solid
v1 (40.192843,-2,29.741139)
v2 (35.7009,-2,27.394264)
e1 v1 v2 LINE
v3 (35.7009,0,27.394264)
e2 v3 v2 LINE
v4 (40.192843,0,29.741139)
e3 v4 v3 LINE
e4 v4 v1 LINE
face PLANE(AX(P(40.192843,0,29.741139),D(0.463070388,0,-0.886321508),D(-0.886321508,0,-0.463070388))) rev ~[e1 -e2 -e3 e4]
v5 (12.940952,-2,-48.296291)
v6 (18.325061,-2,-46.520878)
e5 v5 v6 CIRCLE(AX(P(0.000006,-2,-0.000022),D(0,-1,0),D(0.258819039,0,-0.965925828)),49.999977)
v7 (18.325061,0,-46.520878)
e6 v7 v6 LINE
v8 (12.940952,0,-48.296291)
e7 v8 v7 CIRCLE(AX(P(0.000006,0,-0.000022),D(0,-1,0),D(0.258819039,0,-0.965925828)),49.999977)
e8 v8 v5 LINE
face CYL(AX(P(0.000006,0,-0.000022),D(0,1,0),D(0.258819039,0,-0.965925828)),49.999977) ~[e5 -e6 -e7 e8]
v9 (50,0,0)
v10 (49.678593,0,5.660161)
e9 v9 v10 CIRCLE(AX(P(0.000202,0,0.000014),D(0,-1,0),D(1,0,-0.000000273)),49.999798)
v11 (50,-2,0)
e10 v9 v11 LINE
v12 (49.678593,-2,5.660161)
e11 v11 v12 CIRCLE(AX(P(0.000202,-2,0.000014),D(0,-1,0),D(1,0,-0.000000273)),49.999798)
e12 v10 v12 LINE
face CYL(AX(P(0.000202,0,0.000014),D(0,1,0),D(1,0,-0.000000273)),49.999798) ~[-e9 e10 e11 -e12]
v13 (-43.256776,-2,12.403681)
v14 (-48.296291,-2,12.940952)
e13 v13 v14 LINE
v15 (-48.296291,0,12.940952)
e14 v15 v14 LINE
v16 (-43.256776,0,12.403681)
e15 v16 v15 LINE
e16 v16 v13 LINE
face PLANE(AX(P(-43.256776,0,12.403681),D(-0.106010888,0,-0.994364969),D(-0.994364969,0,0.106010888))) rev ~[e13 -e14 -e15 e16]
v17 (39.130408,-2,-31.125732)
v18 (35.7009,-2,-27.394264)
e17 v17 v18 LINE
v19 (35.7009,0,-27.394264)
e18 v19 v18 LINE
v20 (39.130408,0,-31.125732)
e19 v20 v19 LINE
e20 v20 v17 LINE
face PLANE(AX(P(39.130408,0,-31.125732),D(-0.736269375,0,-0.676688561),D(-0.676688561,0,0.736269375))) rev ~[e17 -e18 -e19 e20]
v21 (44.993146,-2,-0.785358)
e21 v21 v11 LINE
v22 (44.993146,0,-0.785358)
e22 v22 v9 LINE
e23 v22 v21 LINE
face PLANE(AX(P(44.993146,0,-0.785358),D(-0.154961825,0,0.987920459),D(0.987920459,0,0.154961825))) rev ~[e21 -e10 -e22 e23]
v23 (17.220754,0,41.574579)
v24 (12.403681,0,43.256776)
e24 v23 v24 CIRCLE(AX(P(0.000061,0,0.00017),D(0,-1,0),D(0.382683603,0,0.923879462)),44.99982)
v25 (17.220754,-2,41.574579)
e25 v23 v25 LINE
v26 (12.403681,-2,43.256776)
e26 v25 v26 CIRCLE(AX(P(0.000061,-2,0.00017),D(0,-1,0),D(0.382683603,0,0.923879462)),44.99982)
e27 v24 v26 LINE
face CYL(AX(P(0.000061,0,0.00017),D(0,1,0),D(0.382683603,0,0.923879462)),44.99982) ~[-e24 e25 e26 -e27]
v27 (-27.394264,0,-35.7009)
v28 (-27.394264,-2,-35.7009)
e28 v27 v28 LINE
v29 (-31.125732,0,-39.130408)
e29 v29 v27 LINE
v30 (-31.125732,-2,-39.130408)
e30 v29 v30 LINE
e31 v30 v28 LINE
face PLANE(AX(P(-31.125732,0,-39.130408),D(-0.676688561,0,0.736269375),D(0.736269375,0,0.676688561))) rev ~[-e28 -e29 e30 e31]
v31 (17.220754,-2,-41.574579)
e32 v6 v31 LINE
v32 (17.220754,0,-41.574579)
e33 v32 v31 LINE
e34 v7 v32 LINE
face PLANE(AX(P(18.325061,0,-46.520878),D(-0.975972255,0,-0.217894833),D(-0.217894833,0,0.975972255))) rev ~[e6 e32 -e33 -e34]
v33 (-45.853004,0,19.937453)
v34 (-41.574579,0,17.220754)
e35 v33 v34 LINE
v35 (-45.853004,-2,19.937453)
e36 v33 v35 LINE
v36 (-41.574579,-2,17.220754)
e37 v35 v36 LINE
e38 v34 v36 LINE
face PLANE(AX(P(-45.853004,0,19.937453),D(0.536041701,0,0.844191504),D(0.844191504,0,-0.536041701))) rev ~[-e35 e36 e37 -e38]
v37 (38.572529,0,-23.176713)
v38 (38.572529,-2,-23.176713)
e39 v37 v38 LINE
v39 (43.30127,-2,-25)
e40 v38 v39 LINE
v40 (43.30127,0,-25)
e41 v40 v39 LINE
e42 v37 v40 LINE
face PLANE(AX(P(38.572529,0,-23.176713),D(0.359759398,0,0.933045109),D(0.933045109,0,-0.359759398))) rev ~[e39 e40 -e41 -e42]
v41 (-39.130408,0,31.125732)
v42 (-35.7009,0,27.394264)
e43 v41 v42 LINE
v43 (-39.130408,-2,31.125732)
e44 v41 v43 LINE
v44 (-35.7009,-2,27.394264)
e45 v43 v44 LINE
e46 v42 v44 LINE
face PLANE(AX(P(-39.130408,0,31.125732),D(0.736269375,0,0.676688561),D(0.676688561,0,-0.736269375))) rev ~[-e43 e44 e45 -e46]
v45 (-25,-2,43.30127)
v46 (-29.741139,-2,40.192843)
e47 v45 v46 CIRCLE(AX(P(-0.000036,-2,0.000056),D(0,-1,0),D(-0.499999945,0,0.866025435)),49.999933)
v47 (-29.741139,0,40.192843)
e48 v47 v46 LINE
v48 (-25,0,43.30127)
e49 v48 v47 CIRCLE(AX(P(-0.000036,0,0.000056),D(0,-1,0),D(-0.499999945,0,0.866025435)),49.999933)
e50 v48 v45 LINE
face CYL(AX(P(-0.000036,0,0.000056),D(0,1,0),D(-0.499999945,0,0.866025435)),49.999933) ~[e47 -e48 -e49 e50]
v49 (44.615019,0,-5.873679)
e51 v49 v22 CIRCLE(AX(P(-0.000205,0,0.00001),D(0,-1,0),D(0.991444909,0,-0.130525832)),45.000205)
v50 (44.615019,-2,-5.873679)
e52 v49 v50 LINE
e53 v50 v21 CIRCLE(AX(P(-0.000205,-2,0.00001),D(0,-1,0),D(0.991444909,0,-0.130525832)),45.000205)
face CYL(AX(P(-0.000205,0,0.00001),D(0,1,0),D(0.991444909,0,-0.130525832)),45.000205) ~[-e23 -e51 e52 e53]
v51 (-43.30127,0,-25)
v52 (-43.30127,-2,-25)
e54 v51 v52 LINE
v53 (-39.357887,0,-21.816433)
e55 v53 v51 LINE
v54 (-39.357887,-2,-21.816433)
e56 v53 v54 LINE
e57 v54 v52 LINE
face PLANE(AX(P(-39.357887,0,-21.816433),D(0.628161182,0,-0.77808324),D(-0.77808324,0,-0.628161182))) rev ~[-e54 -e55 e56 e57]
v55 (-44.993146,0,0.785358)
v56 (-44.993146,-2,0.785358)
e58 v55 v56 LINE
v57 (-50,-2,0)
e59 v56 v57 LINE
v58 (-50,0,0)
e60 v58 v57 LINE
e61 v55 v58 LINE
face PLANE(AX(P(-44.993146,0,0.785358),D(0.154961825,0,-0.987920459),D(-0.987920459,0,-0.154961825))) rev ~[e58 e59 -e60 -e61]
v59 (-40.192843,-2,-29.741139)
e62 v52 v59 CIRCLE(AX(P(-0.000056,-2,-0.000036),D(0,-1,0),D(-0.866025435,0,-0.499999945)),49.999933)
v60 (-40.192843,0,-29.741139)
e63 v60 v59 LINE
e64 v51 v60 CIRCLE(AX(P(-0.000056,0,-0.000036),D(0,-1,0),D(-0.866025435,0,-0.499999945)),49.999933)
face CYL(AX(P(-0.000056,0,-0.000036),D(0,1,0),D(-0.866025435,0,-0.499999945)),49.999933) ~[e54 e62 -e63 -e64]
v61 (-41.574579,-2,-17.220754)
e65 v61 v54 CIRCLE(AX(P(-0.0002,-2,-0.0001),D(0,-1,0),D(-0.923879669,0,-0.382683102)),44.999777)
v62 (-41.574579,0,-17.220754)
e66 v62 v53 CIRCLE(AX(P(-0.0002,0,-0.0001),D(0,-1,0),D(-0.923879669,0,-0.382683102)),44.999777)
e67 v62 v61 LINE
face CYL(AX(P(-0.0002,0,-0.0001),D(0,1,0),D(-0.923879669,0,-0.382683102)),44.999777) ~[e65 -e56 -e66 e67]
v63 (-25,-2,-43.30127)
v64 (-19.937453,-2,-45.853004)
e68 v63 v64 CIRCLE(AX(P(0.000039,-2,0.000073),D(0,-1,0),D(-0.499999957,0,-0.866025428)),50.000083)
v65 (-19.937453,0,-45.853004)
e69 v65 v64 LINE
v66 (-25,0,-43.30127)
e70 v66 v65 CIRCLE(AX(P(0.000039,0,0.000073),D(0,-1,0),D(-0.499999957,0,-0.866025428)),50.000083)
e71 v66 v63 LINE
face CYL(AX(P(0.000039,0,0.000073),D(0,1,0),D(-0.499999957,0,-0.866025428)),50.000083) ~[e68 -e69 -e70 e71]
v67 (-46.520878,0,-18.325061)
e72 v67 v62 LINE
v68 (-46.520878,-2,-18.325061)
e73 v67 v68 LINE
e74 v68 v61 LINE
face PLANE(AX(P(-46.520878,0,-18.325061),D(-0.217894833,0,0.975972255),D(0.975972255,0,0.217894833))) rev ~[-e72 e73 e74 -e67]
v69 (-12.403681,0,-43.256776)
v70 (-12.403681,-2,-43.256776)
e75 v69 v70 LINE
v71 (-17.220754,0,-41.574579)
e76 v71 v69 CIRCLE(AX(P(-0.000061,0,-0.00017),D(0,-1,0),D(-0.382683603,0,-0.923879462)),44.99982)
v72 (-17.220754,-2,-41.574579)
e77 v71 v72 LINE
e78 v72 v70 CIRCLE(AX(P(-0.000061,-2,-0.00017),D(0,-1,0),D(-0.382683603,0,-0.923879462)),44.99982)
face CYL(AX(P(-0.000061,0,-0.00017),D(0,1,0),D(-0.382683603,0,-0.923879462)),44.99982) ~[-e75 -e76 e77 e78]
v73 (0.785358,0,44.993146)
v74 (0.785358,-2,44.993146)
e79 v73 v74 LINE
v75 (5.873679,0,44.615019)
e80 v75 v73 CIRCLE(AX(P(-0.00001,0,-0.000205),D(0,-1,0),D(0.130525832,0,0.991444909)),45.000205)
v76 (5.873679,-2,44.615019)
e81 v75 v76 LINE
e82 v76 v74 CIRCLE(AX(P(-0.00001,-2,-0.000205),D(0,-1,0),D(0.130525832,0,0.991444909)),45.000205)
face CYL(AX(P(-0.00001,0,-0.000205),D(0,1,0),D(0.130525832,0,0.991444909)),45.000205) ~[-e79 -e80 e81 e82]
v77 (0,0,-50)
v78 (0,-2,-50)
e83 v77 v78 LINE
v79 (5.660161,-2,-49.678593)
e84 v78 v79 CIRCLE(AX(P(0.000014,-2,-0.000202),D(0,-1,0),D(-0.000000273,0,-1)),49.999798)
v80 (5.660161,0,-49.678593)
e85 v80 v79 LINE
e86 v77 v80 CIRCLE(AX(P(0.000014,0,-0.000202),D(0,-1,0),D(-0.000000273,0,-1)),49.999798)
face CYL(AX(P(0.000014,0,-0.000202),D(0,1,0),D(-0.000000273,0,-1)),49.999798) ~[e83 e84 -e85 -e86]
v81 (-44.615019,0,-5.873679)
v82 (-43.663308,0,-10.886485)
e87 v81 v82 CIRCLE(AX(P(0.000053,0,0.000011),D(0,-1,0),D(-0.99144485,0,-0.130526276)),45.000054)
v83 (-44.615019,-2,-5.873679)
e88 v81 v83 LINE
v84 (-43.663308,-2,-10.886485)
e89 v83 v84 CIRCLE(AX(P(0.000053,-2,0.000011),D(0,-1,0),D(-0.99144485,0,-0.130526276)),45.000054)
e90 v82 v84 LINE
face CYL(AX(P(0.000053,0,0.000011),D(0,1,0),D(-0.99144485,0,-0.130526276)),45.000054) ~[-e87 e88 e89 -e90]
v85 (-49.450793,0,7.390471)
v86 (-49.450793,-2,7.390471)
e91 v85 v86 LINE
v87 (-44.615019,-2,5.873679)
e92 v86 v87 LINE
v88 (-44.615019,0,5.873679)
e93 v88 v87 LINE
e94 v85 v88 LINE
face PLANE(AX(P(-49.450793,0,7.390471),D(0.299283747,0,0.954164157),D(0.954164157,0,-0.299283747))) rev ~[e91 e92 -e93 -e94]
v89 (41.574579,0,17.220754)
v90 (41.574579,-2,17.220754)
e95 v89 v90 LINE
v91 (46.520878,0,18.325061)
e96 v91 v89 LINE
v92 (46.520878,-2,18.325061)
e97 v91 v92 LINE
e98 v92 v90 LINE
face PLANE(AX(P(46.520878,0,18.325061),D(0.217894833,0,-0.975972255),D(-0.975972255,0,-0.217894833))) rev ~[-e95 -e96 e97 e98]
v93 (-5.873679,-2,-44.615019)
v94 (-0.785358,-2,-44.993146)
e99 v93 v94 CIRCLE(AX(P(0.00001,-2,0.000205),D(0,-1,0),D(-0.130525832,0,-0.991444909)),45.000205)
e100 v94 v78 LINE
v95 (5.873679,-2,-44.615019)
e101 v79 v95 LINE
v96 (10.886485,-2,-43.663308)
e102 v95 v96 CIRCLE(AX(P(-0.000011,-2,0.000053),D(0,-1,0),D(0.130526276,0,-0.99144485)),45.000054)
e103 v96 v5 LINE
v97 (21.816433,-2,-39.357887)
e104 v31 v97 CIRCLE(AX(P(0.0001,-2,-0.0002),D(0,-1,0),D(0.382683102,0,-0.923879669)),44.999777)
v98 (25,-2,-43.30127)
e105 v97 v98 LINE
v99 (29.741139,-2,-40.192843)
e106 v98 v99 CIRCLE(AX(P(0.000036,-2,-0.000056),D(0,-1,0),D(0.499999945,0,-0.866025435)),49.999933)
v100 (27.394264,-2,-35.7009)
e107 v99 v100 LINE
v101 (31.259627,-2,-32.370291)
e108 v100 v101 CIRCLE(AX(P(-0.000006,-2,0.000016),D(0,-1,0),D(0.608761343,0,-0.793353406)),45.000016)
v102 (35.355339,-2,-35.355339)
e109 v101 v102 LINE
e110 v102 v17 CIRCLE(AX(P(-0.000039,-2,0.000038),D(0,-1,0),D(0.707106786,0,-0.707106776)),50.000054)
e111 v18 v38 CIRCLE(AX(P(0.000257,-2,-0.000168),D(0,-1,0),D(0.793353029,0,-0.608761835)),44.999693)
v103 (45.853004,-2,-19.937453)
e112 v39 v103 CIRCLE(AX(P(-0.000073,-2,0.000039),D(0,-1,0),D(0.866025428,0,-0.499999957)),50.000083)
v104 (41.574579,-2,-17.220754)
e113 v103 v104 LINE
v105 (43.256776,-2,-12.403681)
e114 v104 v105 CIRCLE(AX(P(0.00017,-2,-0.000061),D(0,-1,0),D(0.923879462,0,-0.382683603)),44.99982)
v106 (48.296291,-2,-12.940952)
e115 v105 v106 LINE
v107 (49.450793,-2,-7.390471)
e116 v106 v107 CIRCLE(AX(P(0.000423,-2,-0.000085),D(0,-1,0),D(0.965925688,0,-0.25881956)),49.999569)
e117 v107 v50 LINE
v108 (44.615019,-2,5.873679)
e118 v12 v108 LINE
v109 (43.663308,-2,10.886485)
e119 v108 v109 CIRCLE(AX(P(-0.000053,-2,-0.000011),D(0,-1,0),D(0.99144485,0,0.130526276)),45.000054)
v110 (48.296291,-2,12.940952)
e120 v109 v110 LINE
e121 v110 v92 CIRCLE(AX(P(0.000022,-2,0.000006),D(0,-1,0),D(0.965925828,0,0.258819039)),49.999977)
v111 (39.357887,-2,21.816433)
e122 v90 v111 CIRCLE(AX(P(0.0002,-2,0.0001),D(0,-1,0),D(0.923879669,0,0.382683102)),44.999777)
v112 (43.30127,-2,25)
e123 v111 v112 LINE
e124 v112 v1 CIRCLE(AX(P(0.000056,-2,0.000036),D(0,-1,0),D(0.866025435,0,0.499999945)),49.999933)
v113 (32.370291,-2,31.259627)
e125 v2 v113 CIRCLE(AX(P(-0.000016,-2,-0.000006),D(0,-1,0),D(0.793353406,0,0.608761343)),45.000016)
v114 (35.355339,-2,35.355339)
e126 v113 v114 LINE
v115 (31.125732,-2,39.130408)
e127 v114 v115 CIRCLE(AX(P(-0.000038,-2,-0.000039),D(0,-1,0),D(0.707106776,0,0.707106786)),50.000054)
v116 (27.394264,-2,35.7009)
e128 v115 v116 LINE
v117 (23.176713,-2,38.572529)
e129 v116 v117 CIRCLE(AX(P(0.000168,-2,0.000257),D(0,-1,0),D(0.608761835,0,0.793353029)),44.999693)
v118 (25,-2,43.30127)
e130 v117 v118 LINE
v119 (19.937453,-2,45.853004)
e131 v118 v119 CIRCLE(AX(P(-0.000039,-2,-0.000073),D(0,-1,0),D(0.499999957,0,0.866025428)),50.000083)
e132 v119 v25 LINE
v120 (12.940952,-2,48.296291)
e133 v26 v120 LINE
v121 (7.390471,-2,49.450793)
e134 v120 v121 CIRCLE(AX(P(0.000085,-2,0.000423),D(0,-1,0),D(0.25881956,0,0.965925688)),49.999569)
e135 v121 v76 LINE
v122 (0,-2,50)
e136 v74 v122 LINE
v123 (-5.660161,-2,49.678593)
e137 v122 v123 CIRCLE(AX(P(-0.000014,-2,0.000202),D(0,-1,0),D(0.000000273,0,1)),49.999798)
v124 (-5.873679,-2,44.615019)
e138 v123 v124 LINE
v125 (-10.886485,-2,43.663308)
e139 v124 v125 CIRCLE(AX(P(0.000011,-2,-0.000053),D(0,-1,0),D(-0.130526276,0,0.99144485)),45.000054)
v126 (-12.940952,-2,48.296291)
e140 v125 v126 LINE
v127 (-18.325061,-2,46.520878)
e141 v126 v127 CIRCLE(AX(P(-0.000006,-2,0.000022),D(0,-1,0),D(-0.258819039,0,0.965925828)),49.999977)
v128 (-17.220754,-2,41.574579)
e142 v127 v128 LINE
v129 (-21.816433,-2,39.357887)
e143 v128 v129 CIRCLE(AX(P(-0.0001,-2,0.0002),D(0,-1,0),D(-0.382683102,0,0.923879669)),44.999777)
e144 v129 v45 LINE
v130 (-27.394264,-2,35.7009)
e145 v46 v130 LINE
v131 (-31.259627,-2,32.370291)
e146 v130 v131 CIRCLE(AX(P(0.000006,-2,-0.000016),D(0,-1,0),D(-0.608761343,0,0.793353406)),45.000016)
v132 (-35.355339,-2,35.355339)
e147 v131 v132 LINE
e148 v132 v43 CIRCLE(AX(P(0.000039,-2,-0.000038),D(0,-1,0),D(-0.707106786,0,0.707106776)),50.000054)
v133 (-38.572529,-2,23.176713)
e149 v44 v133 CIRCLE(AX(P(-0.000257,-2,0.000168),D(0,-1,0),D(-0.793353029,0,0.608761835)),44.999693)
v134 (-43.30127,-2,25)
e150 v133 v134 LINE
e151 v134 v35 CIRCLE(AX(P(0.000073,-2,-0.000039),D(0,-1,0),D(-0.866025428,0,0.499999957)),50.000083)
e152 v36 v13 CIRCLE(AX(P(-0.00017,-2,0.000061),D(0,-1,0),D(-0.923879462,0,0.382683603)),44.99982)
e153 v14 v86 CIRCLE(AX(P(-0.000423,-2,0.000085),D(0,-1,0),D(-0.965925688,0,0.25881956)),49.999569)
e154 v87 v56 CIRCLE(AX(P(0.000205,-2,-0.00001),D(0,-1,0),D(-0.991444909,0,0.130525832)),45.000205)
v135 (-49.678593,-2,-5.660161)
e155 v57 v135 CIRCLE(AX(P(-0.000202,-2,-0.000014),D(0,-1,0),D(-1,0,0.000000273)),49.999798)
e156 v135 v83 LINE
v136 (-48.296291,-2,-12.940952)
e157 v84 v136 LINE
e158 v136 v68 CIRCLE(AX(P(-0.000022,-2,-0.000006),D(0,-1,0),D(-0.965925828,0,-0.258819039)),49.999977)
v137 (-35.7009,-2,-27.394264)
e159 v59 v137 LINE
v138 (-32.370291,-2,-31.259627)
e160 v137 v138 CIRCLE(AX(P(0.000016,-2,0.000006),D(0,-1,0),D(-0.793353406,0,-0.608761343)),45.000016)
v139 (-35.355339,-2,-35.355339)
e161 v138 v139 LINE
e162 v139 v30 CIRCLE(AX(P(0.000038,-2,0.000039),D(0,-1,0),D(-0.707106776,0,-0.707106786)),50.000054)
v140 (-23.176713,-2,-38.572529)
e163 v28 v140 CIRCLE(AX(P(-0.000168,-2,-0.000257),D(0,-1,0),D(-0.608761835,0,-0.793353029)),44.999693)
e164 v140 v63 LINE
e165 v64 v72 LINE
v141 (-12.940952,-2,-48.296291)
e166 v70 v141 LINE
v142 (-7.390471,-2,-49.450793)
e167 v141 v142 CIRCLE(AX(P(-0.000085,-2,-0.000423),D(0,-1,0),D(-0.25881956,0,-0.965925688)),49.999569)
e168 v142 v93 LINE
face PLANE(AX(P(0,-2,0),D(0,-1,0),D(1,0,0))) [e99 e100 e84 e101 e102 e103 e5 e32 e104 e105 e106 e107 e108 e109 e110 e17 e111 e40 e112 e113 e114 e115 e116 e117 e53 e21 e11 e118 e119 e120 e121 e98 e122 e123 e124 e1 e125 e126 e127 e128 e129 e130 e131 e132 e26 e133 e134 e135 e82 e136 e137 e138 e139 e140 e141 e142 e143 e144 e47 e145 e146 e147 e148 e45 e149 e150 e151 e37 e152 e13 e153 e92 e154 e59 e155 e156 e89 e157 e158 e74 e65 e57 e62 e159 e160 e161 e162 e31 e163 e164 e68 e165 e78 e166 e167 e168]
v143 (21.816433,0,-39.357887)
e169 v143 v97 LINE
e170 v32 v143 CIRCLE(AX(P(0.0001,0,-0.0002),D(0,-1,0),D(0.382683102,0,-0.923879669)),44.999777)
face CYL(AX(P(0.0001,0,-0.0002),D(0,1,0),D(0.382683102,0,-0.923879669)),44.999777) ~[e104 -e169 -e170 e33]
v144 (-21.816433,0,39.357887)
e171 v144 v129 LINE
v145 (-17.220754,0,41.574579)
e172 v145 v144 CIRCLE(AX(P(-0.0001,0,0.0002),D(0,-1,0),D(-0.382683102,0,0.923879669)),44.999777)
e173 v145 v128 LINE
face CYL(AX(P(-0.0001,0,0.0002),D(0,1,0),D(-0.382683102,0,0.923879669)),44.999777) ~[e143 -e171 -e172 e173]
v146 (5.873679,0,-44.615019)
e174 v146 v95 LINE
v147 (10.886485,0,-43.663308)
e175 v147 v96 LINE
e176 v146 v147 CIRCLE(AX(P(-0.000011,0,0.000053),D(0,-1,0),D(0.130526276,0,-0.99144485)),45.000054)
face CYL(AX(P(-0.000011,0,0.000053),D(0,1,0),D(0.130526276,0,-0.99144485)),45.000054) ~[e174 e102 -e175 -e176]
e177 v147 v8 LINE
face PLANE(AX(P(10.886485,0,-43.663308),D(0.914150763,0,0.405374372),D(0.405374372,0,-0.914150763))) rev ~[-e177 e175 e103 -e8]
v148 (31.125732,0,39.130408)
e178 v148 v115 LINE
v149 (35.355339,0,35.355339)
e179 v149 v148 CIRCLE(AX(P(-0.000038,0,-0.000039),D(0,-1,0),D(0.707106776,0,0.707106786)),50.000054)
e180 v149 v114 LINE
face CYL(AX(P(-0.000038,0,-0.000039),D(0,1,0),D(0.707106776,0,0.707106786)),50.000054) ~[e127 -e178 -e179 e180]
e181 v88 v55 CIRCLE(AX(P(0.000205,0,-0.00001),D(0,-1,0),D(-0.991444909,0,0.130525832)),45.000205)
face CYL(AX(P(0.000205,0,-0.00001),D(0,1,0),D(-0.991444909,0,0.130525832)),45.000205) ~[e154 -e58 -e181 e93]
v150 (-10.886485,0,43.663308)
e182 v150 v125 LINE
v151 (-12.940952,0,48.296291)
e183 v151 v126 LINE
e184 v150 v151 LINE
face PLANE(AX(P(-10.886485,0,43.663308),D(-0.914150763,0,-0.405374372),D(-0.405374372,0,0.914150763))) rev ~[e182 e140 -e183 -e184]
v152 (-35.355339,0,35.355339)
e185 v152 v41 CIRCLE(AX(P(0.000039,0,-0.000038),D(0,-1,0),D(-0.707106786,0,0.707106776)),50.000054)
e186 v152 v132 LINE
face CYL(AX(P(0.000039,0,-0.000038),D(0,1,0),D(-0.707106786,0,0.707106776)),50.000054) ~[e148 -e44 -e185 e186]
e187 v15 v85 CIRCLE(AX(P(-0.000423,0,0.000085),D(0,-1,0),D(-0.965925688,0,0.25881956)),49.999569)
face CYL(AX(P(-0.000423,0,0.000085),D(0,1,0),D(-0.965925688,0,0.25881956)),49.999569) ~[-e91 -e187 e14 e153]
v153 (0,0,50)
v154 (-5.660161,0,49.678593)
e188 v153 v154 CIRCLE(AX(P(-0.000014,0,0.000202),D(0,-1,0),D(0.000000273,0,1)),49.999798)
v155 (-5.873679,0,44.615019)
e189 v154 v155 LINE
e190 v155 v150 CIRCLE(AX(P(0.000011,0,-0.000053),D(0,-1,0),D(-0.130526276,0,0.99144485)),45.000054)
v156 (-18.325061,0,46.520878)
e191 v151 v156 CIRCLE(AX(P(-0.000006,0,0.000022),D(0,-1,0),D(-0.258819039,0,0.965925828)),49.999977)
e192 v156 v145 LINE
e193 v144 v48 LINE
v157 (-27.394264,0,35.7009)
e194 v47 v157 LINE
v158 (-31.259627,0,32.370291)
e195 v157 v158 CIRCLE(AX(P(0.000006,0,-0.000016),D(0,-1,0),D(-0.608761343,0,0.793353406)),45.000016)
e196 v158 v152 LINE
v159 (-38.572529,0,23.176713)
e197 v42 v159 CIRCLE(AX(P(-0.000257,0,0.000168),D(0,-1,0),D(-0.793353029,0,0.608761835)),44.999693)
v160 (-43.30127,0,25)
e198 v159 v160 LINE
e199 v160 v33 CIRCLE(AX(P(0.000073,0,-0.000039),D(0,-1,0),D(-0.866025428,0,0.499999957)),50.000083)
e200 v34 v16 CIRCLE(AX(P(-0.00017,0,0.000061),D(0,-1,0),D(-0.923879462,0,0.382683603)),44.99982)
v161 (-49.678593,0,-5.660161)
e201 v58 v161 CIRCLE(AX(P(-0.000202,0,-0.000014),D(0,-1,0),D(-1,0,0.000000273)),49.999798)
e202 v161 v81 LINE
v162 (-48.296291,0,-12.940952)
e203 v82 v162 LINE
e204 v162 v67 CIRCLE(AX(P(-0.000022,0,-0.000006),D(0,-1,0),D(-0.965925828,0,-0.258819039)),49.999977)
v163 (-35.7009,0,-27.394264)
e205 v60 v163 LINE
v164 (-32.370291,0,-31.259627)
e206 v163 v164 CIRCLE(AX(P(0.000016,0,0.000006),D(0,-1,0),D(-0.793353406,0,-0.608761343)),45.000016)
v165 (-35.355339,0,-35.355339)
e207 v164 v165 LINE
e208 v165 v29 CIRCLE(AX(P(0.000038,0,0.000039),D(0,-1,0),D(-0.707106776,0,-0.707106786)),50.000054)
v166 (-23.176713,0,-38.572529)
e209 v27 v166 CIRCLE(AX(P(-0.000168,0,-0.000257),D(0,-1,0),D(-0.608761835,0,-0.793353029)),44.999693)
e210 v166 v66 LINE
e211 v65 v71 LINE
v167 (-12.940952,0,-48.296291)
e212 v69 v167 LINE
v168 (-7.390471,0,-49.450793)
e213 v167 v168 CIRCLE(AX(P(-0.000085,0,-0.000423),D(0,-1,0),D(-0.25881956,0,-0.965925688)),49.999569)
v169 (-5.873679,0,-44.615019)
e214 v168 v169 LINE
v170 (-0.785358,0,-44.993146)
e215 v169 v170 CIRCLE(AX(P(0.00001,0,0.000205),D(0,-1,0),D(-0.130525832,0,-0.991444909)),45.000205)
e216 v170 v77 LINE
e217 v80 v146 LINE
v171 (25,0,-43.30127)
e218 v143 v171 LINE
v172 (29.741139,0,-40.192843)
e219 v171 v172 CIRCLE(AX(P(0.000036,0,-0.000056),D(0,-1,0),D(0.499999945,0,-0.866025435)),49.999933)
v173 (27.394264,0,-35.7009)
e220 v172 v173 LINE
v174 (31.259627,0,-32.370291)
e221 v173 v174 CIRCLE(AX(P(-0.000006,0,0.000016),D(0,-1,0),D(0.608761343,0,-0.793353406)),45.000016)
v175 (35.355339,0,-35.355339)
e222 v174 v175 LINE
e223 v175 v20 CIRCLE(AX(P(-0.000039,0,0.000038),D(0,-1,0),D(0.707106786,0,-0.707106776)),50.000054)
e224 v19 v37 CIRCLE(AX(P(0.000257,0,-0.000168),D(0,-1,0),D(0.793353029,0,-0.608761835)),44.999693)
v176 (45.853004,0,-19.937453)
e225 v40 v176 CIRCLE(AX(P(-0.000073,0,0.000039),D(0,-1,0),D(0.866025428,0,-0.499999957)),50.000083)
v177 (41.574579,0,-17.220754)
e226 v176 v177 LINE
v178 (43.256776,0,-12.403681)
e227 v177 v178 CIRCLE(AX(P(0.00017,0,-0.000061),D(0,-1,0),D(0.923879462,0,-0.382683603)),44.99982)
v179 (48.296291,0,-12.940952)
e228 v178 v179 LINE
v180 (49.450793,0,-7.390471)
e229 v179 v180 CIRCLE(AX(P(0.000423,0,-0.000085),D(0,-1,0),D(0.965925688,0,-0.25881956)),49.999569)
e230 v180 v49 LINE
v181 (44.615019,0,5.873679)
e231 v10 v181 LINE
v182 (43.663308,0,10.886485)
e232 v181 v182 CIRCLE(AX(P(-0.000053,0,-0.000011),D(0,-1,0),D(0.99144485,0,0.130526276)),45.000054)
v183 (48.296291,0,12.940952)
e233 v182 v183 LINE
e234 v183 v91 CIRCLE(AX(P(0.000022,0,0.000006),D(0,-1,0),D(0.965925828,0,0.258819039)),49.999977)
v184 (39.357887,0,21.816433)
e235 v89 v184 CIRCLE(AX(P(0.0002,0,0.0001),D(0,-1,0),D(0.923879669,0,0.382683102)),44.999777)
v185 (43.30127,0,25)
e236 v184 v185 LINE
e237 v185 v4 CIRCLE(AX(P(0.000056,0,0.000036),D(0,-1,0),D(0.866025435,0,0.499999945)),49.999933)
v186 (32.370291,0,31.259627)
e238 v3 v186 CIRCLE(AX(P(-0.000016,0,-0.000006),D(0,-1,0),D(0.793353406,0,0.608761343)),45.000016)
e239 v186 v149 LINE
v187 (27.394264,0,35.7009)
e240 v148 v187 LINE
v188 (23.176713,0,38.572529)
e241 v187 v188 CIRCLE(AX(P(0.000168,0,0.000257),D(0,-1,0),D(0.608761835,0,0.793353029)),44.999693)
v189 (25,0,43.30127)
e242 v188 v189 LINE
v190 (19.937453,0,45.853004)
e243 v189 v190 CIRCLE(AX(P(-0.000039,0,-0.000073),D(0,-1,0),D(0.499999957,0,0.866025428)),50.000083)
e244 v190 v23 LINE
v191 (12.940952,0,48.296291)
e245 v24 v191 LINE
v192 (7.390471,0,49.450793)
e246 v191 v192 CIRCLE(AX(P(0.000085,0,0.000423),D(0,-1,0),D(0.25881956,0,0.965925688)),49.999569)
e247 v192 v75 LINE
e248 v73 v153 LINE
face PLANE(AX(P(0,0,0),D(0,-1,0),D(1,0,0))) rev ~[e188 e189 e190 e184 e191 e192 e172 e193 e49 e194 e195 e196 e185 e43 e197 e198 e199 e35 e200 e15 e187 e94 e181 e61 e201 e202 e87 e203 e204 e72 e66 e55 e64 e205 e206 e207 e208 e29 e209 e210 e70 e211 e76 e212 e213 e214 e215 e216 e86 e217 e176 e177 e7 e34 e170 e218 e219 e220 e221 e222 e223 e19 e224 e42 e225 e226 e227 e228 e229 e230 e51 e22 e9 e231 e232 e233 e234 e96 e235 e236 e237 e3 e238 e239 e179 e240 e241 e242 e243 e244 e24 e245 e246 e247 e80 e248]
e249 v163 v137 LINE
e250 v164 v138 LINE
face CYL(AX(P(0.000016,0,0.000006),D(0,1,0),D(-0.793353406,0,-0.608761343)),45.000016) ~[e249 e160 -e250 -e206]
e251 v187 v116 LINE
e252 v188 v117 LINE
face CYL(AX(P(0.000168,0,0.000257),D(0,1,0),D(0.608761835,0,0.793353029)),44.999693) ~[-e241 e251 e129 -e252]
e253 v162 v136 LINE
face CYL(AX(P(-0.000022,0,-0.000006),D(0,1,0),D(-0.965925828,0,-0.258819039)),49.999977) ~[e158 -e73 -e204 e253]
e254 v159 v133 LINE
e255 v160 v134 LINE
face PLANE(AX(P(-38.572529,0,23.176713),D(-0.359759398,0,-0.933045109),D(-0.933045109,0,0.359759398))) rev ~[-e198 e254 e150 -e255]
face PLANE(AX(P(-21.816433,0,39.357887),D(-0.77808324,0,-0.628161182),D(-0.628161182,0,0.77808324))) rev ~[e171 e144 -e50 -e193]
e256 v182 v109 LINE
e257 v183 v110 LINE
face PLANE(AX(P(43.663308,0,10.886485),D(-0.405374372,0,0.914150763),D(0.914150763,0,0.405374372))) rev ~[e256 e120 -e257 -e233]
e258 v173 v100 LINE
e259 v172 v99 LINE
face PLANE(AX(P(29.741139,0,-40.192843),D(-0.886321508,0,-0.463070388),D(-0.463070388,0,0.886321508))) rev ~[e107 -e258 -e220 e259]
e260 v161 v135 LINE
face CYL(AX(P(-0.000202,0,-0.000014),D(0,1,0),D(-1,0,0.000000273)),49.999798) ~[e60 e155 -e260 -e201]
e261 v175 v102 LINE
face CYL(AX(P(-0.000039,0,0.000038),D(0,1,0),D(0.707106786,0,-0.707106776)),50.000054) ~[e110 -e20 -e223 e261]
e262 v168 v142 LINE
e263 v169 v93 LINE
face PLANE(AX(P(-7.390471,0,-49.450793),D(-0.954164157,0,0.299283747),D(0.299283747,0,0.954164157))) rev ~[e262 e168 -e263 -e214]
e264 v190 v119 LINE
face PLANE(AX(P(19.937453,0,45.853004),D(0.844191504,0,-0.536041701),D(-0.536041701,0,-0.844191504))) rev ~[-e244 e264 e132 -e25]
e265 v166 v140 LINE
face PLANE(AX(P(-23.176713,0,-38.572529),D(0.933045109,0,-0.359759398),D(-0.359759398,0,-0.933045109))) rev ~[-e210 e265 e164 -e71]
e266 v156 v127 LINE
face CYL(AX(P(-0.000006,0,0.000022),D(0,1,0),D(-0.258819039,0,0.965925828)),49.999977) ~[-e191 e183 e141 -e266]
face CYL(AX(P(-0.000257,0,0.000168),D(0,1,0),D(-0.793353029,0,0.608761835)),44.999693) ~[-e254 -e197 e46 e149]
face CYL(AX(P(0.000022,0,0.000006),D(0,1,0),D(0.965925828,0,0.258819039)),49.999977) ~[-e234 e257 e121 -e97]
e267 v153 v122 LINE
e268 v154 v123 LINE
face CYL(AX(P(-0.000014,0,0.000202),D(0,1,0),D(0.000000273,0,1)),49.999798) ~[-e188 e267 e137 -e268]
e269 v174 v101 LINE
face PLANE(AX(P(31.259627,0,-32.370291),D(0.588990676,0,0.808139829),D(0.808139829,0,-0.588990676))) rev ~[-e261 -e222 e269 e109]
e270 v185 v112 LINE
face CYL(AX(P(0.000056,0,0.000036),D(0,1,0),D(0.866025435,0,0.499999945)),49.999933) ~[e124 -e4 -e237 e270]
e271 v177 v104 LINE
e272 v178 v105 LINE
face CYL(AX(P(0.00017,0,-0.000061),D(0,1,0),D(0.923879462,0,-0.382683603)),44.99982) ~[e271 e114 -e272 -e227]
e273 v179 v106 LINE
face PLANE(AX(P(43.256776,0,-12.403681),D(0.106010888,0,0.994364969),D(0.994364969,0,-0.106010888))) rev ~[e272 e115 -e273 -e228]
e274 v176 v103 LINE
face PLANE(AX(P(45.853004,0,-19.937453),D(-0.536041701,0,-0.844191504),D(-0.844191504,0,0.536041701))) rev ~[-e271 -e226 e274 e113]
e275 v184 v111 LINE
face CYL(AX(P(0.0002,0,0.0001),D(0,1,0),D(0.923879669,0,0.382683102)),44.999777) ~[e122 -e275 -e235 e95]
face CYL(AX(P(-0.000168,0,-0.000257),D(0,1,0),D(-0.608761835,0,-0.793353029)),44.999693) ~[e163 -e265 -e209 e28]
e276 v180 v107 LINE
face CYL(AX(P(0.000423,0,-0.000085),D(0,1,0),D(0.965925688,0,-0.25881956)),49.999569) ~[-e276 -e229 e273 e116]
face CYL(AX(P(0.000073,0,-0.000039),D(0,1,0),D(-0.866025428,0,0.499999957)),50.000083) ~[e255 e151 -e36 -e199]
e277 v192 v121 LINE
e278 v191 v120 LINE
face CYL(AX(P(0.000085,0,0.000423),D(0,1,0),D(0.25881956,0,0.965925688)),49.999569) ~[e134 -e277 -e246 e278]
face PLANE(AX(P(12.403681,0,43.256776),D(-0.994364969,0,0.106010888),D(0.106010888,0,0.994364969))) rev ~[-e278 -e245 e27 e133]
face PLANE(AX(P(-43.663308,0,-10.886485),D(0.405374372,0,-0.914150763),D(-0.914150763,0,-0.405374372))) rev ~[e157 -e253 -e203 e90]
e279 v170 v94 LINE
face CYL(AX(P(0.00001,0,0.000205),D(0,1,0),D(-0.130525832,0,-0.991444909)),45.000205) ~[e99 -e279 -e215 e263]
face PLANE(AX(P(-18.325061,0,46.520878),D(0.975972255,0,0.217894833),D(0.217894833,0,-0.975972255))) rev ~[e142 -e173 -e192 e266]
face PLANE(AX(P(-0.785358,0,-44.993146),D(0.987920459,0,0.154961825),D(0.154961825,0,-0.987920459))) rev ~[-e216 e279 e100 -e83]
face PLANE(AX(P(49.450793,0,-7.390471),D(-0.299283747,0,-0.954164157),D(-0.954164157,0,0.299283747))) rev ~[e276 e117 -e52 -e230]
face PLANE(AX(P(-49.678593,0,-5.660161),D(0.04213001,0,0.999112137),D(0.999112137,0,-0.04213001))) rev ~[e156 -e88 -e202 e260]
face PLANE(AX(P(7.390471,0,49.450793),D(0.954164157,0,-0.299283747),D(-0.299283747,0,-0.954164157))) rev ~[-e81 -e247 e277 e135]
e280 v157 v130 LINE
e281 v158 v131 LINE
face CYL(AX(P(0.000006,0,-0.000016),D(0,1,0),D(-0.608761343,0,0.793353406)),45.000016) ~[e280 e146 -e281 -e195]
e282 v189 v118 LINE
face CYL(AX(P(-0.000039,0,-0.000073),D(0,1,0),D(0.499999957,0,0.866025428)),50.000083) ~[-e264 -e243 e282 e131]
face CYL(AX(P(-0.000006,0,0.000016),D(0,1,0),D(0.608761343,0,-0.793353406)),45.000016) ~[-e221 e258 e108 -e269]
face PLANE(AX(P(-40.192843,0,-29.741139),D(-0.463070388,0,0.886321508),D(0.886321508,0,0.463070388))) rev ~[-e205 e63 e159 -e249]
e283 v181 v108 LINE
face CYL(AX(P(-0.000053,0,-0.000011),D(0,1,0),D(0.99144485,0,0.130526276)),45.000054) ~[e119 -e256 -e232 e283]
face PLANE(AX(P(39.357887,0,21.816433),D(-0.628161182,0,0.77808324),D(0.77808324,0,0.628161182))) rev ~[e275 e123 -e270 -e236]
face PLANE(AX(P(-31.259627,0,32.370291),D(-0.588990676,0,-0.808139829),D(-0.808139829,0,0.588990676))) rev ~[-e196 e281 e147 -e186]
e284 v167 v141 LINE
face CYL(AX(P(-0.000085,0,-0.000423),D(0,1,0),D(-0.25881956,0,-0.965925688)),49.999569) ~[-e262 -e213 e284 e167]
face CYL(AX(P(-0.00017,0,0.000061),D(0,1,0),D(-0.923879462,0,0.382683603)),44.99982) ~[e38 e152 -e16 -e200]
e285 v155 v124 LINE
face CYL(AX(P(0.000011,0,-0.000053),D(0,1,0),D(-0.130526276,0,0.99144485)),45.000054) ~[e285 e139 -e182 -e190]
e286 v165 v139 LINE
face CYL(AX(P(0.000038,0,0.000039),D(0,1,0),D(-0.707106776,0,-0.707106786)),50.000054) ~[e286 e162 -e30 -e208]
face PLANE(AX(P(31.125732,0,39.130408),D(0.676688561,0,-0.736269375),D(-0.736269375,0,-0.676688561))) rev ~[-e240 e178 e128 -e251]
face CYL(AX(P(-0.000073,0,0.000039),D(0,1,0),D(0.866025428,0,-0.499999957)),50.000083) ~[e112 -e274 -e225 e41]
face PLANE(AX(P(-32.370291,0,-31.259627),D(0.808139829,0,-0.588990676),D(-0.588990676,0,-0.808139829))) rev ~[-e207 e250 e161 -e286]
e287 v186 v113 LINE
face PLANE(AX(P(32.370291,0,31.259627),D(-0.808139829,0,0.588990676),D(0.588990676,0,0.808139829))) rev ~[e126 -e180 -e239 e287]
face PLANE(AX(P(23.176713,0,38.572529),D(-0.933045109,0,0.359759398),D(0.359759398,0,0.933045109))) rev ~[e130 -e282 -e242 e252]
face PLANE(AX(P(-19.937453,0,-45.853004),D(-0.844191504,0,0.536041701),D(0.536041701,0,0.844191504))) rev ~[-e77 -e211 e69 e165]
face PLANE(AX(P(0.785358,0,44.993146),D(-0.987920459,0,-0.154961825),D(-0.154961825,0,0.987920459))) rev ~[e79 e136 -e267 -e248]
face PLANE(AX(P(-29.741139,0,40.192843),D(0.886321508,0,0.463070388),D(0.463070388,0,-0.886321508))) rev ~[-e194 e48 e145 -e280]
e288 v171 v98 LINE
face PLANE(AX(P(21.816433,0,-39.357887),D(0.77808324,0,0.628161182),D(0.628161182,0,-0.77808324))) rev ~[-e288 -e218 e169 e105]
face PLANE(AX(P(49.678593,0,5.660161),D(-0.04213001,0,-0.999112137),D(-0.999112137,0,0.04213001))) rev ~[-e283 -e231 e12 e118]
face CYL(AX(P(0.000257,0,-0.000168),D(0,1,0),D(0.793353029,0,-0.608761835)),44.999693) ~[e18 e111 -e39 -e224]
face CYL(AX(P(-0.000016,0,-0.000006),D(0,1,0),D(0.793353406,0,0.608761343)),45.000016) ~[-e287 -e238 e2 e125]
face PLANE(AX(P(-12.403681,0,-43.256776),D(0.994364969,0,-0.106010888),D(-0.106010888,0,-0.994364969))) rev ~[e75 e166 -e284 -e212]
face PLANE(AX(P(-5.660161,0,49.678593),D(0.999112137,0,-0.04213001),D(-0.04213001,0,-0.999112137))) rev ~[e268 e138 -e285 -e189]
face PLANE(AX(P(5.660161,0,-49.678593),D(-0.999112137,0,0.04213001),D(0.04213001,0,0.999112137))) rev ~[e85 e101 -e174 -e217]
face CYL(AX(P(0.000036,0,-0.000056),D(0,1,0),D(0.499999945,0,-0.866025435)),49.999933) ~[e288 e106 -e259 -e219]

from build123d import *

# Parameters (mm, degrees)
F1_DEPTH = 2


with BuildPart() as f1:
    # F0 (on Front) → F1 (new body)
    with BuildSketch(Plane.XZ):
        with BuildLine():
            Line((-5.660161, 49.678593), (-5.873679, 44.615019))
            ThreePointArc((-5.873679, 44.615019), (-8.393582, 44.210268), (-10.886485, 43.663308))
            Line((-10.886485, 43.663308), (-12.940952, 48.296291))
            ThreePointArc((-12.940952, 48.296291), (-15.65819, 47.484956), (-18.325061, 46.520878))
            Line((-18.325061, 46.520878), (-17.220754, 41.574579))
            ThreePointArc((-17.220754, 41.574579), (-19.550037, 40.531421), (-21.816433, 39.357887))
            Line((-21.816433, 39.357887), (-25, 43.30127))
            ThreePointArc((-25, 43.30127), (-27.414661, 41.814308), (-29.741139, 40.192843))
            Line((-29.741139, 40.192843), (-27.394264, 35.7009))
            ThreePointArc((-27.394264, 35.7009), (-29.374189, 34.090424), (-31.259627, 32.370291))
            Line((-31.259627, 32.370291), (-35.355339, 35.355339))
            ThreePointArc((-35.355339, 35.355339), (-37.302869, 33.294083), (-39.130408, 31.125732))
            Line((-39.130408, 31.125732), (-35.7009, 27.394264))
            ThreePointArc((-35.7009, 27.394264), (-37.196539, 25.326222), (-38.572529, 23.176713))
            Line((-38.572529, 23.176713), (-43.30127, 25))
            ThreePointArc((-43.30127, 25), (-44.648947, 22.504922), (-45.853004, 19.937453))
            Line((-45.853004, 19.937453), (-41.574579, 17.220754))
            ThreePointArc((-41.574579, 17.220754), (-42.484006, 14.836079), (-43.256776, 12.403681))
            Line((-43.256776, 12.403681), (-48.296291, 12.940952))
            ThreePointArc((-48.296291, 12.940952), (-48.952274, 10.182088), (-49.450793, 7.390471))
            Line((-49.450793, 7.390471), (-44.615019, 5.873679))
            ThreePointArc((-44.615019, 5.873679), (-44.876258, 3.334882), (-44.993146, 0.785358))
            Line((-44.993146, 0.785358), (-50, 0))
            ThreePointArc((-50, 0), (-49.919584, -2.834639), (-49.678593, -5.660161))
            Line((-49.678593, -5.660161), (-44.615019, -5.873679))
            ThreePointArc((-44.615019, -5.873679), (-44.210268, -8.393582), (-43.663308, -10.886485))
            Line((-43.663308, -10.886485), (-48.296291, -12.940952))
            ThreePointArc((-48.296291, -12.940952), (-47.484956, -15.65819), (-46.520878, -18.325061))
            Line((-46.520878, -18.325061), (-41.574579, -17.220754))
            ThreePointArc((-41.574579, -17.220754), (-40.531421, -19.550037), (-39.357887, -21.816433))
            Line((-39.357887, -21.816433), (-43.30127, -25))
            ThreePointArc((-43.30127, -25), (-41.814308, -27.414661), (-40.192843, -29.741139))
            Line((-40.192843, -29.741139), (-35.7009, -27.394264))
            ThreePointArc((-35.7009, -27.394264), (-34.090424, -29.374189), (-32.370291, -31.259627))
            Line((-32.370291, -31.259627), (-35.355339, -35.355339))
            ThreePointArc((-35.355339, -35.355339), (-33.294083, -37.302869), (-31.125732, -39.130408))
            Line((-31.125732, -39.130408), (-27.394264, -35.7009))
            ThreePointArc((-27.394264, -35.7009), (-25.326222, -37.196539), (-23.176713, -38.572529))
            Line((-23.176713, -38.572529), (-25, -43.30127))
            ThreePointArc((-25, -43.30127), (-22.504922, -44.648947), (-19.937453, -45.853004))
            Line((-19.937453, -45.853004), (-17.220754, -41.574579))
            ThreePointArc((-17.220754, -41.574579), (-14.836079, -42.484006), (-12.403681, -43.256776))
            Line((-12.403681, -43.256776), (-12.940952, -48.296291))
            ThreePointArc((-12.940952, -48.296291), (-10.182088, -48.952274), (-7.390471, -49.450793))
            Line((-7.390471, -49.450793), (-5.873679, -44.615019))
            ThreePointArc((-5.873679, -44.615019), (-3.334882, -44.876258), (-0.785358, -44.993146))
            Line((-0.785358, -44.993146), (0, -50))
            ThreePointArc((0, -50), (2.834639, -49.919584), (5.660161, -49.678593))
            Line((5.660161, -49.678593), (5.873679, -44.615019))
            ThreePointArc((5.873679, -44.615019), (8.393582, -44.210268), (10.886485, -43.663308))
            Line((10.886485, -43.663308), (12.940952, -48.296291))
            ThreePointArc((12.940952, -48.296291), (15.65819, -47.484956), (18.325061, -46.520878))
            Line((18.325061, -46.520878), (17.220754, -41.574579))
            ThreePointArc((17.220754, -41.574579), (19.550037, -40.531421), (21.816433, -39.357887))
            Line((21.816433, -39.357887), (25, -43.30127))
            ThreePointArc((25, -43.30127), (27.414661, -41.814308), (29.741139, -40.192843))
            Line((29.741139, -40.192843), (27.394264, -35.7009))
            ThreePointArc((27.394264, -35.7009), (29.374189, -34.090424), (31.259627, -32.370291))
            Line((31.259627, -32.370291), (35.355339, -35.355339))
            ThreePointArc((35.355339, -35.355339), (37.302869, -33.294083), (39.130408, -31.125732))
            Line((39.130408, -31.125732), (35.7009, -27.394264))
            ThreePointArc((35.7009, -27.394264), (37.196539, -25.326222), (38.572529, -23.176713))
            Line((38.572529, -23.176713), (43.30127, -25))
            ThreePointArc((43.30127, -25), (44.648947, -22.504922), (45.853004, -19.937453))
            Line((45.853004, -19.937453), (41.574579, -17.220754))
            ThreePointArc((41.574579, -17.220754), (42.484006, -14.836079), (43.256776, -12.403681))
            Line((43.256776, -12.403681), (48.296291, -12.940952))
            ThreePointArc((48.296291, -12.940952), (48.952274, -10.182088), (49.450793, -7.390471))
            Line((49.450793, -7.390471), (44.615019, -5.873679))
            ThreePointArc((44.615019, -5.873679), (44.876258, -3.334882), (44.993146, -0.785358))
            Line((44.993146, -0.785358), (50, 0))
            ThreePointArc((50, 0), (49.919584, 2.834639), (49.678593, 5.660161))
            Line((49.678593, 5.660161), (44.615019, 5.873679))
            ThreePointArc((44.615019, 5.873679), (44.210268, 8.393582), (43.663308, 10.886485))
            Line((43.663308, 10.886485), (48.296291, 12.940952))
            ThreePointArc((48.296291, 12.940952), (47.484956, 15.65819), (46.520878, 18.325061))
            Line((46.520878, 18.325061), (41.574579, 17.220754))
            ThreePointArc((41.574579, 17.220754), (40.531421, 19.550037), (39.357887, 21.816433))
            Line((39.357887, 21.816433), (43.30127, 25))
            ThreePointArc((43.30127, 25), (41.814308, 27.414661), (40.192843, 29.741139))
            Line((40.192843, 29.741139), (35.7009, 27.394264))
            ThreePointArc((35.7009, 27.394264), (34.090424, 29.374189), (32.370291, 31.259627))
            Line((32.370291, 31.259627), (35.355339, 35.355339))
            ThreePointArc((35.355339, 35.355339), (33.294083, 37.302869), (31.125732, 39.130408))
            Line((31.125732, 39.130408), (27.394264, 35.7009))
            ThreePointArc((27.394264, 35.7009), (25.326222, 37.196539), (23.176713, 38.572529))
            Line((23.176713, 38.572529), (25, 43.30127))
            ThreePointArc((25, 43.30127), (22.504922, 44.648947), (19.937453, 45.853004))
            Line((19.937453, 45.853004), (17.220754, 41.574579))
            ThreePointArc((17.220754, 41.574579), (14.836079, 42.484006), (12.403681, 43.256776))
            Line((12.403681, 43.256776), (12.940952, 48.296291))
            ThreePointArc((12.940952, 48.296291), (10.182088, 48.952274), (7.390471, 49.450793))
            Line((7.390471, 49.450793), (5.873679, 44.615019))
            ThreePointArc((5.873679, 44.615019), (3.334882, 44.876258), (0.785358, 44.993146))
            Line((0.785358, 44.993146), (0, 50))
            ThreePointArc((0, 50), (-2.834639, 49.919584), (-5.660161, 49.678593))
        make_face()
    extrude(amount=F1_DEPTH)


solid = f1.part
